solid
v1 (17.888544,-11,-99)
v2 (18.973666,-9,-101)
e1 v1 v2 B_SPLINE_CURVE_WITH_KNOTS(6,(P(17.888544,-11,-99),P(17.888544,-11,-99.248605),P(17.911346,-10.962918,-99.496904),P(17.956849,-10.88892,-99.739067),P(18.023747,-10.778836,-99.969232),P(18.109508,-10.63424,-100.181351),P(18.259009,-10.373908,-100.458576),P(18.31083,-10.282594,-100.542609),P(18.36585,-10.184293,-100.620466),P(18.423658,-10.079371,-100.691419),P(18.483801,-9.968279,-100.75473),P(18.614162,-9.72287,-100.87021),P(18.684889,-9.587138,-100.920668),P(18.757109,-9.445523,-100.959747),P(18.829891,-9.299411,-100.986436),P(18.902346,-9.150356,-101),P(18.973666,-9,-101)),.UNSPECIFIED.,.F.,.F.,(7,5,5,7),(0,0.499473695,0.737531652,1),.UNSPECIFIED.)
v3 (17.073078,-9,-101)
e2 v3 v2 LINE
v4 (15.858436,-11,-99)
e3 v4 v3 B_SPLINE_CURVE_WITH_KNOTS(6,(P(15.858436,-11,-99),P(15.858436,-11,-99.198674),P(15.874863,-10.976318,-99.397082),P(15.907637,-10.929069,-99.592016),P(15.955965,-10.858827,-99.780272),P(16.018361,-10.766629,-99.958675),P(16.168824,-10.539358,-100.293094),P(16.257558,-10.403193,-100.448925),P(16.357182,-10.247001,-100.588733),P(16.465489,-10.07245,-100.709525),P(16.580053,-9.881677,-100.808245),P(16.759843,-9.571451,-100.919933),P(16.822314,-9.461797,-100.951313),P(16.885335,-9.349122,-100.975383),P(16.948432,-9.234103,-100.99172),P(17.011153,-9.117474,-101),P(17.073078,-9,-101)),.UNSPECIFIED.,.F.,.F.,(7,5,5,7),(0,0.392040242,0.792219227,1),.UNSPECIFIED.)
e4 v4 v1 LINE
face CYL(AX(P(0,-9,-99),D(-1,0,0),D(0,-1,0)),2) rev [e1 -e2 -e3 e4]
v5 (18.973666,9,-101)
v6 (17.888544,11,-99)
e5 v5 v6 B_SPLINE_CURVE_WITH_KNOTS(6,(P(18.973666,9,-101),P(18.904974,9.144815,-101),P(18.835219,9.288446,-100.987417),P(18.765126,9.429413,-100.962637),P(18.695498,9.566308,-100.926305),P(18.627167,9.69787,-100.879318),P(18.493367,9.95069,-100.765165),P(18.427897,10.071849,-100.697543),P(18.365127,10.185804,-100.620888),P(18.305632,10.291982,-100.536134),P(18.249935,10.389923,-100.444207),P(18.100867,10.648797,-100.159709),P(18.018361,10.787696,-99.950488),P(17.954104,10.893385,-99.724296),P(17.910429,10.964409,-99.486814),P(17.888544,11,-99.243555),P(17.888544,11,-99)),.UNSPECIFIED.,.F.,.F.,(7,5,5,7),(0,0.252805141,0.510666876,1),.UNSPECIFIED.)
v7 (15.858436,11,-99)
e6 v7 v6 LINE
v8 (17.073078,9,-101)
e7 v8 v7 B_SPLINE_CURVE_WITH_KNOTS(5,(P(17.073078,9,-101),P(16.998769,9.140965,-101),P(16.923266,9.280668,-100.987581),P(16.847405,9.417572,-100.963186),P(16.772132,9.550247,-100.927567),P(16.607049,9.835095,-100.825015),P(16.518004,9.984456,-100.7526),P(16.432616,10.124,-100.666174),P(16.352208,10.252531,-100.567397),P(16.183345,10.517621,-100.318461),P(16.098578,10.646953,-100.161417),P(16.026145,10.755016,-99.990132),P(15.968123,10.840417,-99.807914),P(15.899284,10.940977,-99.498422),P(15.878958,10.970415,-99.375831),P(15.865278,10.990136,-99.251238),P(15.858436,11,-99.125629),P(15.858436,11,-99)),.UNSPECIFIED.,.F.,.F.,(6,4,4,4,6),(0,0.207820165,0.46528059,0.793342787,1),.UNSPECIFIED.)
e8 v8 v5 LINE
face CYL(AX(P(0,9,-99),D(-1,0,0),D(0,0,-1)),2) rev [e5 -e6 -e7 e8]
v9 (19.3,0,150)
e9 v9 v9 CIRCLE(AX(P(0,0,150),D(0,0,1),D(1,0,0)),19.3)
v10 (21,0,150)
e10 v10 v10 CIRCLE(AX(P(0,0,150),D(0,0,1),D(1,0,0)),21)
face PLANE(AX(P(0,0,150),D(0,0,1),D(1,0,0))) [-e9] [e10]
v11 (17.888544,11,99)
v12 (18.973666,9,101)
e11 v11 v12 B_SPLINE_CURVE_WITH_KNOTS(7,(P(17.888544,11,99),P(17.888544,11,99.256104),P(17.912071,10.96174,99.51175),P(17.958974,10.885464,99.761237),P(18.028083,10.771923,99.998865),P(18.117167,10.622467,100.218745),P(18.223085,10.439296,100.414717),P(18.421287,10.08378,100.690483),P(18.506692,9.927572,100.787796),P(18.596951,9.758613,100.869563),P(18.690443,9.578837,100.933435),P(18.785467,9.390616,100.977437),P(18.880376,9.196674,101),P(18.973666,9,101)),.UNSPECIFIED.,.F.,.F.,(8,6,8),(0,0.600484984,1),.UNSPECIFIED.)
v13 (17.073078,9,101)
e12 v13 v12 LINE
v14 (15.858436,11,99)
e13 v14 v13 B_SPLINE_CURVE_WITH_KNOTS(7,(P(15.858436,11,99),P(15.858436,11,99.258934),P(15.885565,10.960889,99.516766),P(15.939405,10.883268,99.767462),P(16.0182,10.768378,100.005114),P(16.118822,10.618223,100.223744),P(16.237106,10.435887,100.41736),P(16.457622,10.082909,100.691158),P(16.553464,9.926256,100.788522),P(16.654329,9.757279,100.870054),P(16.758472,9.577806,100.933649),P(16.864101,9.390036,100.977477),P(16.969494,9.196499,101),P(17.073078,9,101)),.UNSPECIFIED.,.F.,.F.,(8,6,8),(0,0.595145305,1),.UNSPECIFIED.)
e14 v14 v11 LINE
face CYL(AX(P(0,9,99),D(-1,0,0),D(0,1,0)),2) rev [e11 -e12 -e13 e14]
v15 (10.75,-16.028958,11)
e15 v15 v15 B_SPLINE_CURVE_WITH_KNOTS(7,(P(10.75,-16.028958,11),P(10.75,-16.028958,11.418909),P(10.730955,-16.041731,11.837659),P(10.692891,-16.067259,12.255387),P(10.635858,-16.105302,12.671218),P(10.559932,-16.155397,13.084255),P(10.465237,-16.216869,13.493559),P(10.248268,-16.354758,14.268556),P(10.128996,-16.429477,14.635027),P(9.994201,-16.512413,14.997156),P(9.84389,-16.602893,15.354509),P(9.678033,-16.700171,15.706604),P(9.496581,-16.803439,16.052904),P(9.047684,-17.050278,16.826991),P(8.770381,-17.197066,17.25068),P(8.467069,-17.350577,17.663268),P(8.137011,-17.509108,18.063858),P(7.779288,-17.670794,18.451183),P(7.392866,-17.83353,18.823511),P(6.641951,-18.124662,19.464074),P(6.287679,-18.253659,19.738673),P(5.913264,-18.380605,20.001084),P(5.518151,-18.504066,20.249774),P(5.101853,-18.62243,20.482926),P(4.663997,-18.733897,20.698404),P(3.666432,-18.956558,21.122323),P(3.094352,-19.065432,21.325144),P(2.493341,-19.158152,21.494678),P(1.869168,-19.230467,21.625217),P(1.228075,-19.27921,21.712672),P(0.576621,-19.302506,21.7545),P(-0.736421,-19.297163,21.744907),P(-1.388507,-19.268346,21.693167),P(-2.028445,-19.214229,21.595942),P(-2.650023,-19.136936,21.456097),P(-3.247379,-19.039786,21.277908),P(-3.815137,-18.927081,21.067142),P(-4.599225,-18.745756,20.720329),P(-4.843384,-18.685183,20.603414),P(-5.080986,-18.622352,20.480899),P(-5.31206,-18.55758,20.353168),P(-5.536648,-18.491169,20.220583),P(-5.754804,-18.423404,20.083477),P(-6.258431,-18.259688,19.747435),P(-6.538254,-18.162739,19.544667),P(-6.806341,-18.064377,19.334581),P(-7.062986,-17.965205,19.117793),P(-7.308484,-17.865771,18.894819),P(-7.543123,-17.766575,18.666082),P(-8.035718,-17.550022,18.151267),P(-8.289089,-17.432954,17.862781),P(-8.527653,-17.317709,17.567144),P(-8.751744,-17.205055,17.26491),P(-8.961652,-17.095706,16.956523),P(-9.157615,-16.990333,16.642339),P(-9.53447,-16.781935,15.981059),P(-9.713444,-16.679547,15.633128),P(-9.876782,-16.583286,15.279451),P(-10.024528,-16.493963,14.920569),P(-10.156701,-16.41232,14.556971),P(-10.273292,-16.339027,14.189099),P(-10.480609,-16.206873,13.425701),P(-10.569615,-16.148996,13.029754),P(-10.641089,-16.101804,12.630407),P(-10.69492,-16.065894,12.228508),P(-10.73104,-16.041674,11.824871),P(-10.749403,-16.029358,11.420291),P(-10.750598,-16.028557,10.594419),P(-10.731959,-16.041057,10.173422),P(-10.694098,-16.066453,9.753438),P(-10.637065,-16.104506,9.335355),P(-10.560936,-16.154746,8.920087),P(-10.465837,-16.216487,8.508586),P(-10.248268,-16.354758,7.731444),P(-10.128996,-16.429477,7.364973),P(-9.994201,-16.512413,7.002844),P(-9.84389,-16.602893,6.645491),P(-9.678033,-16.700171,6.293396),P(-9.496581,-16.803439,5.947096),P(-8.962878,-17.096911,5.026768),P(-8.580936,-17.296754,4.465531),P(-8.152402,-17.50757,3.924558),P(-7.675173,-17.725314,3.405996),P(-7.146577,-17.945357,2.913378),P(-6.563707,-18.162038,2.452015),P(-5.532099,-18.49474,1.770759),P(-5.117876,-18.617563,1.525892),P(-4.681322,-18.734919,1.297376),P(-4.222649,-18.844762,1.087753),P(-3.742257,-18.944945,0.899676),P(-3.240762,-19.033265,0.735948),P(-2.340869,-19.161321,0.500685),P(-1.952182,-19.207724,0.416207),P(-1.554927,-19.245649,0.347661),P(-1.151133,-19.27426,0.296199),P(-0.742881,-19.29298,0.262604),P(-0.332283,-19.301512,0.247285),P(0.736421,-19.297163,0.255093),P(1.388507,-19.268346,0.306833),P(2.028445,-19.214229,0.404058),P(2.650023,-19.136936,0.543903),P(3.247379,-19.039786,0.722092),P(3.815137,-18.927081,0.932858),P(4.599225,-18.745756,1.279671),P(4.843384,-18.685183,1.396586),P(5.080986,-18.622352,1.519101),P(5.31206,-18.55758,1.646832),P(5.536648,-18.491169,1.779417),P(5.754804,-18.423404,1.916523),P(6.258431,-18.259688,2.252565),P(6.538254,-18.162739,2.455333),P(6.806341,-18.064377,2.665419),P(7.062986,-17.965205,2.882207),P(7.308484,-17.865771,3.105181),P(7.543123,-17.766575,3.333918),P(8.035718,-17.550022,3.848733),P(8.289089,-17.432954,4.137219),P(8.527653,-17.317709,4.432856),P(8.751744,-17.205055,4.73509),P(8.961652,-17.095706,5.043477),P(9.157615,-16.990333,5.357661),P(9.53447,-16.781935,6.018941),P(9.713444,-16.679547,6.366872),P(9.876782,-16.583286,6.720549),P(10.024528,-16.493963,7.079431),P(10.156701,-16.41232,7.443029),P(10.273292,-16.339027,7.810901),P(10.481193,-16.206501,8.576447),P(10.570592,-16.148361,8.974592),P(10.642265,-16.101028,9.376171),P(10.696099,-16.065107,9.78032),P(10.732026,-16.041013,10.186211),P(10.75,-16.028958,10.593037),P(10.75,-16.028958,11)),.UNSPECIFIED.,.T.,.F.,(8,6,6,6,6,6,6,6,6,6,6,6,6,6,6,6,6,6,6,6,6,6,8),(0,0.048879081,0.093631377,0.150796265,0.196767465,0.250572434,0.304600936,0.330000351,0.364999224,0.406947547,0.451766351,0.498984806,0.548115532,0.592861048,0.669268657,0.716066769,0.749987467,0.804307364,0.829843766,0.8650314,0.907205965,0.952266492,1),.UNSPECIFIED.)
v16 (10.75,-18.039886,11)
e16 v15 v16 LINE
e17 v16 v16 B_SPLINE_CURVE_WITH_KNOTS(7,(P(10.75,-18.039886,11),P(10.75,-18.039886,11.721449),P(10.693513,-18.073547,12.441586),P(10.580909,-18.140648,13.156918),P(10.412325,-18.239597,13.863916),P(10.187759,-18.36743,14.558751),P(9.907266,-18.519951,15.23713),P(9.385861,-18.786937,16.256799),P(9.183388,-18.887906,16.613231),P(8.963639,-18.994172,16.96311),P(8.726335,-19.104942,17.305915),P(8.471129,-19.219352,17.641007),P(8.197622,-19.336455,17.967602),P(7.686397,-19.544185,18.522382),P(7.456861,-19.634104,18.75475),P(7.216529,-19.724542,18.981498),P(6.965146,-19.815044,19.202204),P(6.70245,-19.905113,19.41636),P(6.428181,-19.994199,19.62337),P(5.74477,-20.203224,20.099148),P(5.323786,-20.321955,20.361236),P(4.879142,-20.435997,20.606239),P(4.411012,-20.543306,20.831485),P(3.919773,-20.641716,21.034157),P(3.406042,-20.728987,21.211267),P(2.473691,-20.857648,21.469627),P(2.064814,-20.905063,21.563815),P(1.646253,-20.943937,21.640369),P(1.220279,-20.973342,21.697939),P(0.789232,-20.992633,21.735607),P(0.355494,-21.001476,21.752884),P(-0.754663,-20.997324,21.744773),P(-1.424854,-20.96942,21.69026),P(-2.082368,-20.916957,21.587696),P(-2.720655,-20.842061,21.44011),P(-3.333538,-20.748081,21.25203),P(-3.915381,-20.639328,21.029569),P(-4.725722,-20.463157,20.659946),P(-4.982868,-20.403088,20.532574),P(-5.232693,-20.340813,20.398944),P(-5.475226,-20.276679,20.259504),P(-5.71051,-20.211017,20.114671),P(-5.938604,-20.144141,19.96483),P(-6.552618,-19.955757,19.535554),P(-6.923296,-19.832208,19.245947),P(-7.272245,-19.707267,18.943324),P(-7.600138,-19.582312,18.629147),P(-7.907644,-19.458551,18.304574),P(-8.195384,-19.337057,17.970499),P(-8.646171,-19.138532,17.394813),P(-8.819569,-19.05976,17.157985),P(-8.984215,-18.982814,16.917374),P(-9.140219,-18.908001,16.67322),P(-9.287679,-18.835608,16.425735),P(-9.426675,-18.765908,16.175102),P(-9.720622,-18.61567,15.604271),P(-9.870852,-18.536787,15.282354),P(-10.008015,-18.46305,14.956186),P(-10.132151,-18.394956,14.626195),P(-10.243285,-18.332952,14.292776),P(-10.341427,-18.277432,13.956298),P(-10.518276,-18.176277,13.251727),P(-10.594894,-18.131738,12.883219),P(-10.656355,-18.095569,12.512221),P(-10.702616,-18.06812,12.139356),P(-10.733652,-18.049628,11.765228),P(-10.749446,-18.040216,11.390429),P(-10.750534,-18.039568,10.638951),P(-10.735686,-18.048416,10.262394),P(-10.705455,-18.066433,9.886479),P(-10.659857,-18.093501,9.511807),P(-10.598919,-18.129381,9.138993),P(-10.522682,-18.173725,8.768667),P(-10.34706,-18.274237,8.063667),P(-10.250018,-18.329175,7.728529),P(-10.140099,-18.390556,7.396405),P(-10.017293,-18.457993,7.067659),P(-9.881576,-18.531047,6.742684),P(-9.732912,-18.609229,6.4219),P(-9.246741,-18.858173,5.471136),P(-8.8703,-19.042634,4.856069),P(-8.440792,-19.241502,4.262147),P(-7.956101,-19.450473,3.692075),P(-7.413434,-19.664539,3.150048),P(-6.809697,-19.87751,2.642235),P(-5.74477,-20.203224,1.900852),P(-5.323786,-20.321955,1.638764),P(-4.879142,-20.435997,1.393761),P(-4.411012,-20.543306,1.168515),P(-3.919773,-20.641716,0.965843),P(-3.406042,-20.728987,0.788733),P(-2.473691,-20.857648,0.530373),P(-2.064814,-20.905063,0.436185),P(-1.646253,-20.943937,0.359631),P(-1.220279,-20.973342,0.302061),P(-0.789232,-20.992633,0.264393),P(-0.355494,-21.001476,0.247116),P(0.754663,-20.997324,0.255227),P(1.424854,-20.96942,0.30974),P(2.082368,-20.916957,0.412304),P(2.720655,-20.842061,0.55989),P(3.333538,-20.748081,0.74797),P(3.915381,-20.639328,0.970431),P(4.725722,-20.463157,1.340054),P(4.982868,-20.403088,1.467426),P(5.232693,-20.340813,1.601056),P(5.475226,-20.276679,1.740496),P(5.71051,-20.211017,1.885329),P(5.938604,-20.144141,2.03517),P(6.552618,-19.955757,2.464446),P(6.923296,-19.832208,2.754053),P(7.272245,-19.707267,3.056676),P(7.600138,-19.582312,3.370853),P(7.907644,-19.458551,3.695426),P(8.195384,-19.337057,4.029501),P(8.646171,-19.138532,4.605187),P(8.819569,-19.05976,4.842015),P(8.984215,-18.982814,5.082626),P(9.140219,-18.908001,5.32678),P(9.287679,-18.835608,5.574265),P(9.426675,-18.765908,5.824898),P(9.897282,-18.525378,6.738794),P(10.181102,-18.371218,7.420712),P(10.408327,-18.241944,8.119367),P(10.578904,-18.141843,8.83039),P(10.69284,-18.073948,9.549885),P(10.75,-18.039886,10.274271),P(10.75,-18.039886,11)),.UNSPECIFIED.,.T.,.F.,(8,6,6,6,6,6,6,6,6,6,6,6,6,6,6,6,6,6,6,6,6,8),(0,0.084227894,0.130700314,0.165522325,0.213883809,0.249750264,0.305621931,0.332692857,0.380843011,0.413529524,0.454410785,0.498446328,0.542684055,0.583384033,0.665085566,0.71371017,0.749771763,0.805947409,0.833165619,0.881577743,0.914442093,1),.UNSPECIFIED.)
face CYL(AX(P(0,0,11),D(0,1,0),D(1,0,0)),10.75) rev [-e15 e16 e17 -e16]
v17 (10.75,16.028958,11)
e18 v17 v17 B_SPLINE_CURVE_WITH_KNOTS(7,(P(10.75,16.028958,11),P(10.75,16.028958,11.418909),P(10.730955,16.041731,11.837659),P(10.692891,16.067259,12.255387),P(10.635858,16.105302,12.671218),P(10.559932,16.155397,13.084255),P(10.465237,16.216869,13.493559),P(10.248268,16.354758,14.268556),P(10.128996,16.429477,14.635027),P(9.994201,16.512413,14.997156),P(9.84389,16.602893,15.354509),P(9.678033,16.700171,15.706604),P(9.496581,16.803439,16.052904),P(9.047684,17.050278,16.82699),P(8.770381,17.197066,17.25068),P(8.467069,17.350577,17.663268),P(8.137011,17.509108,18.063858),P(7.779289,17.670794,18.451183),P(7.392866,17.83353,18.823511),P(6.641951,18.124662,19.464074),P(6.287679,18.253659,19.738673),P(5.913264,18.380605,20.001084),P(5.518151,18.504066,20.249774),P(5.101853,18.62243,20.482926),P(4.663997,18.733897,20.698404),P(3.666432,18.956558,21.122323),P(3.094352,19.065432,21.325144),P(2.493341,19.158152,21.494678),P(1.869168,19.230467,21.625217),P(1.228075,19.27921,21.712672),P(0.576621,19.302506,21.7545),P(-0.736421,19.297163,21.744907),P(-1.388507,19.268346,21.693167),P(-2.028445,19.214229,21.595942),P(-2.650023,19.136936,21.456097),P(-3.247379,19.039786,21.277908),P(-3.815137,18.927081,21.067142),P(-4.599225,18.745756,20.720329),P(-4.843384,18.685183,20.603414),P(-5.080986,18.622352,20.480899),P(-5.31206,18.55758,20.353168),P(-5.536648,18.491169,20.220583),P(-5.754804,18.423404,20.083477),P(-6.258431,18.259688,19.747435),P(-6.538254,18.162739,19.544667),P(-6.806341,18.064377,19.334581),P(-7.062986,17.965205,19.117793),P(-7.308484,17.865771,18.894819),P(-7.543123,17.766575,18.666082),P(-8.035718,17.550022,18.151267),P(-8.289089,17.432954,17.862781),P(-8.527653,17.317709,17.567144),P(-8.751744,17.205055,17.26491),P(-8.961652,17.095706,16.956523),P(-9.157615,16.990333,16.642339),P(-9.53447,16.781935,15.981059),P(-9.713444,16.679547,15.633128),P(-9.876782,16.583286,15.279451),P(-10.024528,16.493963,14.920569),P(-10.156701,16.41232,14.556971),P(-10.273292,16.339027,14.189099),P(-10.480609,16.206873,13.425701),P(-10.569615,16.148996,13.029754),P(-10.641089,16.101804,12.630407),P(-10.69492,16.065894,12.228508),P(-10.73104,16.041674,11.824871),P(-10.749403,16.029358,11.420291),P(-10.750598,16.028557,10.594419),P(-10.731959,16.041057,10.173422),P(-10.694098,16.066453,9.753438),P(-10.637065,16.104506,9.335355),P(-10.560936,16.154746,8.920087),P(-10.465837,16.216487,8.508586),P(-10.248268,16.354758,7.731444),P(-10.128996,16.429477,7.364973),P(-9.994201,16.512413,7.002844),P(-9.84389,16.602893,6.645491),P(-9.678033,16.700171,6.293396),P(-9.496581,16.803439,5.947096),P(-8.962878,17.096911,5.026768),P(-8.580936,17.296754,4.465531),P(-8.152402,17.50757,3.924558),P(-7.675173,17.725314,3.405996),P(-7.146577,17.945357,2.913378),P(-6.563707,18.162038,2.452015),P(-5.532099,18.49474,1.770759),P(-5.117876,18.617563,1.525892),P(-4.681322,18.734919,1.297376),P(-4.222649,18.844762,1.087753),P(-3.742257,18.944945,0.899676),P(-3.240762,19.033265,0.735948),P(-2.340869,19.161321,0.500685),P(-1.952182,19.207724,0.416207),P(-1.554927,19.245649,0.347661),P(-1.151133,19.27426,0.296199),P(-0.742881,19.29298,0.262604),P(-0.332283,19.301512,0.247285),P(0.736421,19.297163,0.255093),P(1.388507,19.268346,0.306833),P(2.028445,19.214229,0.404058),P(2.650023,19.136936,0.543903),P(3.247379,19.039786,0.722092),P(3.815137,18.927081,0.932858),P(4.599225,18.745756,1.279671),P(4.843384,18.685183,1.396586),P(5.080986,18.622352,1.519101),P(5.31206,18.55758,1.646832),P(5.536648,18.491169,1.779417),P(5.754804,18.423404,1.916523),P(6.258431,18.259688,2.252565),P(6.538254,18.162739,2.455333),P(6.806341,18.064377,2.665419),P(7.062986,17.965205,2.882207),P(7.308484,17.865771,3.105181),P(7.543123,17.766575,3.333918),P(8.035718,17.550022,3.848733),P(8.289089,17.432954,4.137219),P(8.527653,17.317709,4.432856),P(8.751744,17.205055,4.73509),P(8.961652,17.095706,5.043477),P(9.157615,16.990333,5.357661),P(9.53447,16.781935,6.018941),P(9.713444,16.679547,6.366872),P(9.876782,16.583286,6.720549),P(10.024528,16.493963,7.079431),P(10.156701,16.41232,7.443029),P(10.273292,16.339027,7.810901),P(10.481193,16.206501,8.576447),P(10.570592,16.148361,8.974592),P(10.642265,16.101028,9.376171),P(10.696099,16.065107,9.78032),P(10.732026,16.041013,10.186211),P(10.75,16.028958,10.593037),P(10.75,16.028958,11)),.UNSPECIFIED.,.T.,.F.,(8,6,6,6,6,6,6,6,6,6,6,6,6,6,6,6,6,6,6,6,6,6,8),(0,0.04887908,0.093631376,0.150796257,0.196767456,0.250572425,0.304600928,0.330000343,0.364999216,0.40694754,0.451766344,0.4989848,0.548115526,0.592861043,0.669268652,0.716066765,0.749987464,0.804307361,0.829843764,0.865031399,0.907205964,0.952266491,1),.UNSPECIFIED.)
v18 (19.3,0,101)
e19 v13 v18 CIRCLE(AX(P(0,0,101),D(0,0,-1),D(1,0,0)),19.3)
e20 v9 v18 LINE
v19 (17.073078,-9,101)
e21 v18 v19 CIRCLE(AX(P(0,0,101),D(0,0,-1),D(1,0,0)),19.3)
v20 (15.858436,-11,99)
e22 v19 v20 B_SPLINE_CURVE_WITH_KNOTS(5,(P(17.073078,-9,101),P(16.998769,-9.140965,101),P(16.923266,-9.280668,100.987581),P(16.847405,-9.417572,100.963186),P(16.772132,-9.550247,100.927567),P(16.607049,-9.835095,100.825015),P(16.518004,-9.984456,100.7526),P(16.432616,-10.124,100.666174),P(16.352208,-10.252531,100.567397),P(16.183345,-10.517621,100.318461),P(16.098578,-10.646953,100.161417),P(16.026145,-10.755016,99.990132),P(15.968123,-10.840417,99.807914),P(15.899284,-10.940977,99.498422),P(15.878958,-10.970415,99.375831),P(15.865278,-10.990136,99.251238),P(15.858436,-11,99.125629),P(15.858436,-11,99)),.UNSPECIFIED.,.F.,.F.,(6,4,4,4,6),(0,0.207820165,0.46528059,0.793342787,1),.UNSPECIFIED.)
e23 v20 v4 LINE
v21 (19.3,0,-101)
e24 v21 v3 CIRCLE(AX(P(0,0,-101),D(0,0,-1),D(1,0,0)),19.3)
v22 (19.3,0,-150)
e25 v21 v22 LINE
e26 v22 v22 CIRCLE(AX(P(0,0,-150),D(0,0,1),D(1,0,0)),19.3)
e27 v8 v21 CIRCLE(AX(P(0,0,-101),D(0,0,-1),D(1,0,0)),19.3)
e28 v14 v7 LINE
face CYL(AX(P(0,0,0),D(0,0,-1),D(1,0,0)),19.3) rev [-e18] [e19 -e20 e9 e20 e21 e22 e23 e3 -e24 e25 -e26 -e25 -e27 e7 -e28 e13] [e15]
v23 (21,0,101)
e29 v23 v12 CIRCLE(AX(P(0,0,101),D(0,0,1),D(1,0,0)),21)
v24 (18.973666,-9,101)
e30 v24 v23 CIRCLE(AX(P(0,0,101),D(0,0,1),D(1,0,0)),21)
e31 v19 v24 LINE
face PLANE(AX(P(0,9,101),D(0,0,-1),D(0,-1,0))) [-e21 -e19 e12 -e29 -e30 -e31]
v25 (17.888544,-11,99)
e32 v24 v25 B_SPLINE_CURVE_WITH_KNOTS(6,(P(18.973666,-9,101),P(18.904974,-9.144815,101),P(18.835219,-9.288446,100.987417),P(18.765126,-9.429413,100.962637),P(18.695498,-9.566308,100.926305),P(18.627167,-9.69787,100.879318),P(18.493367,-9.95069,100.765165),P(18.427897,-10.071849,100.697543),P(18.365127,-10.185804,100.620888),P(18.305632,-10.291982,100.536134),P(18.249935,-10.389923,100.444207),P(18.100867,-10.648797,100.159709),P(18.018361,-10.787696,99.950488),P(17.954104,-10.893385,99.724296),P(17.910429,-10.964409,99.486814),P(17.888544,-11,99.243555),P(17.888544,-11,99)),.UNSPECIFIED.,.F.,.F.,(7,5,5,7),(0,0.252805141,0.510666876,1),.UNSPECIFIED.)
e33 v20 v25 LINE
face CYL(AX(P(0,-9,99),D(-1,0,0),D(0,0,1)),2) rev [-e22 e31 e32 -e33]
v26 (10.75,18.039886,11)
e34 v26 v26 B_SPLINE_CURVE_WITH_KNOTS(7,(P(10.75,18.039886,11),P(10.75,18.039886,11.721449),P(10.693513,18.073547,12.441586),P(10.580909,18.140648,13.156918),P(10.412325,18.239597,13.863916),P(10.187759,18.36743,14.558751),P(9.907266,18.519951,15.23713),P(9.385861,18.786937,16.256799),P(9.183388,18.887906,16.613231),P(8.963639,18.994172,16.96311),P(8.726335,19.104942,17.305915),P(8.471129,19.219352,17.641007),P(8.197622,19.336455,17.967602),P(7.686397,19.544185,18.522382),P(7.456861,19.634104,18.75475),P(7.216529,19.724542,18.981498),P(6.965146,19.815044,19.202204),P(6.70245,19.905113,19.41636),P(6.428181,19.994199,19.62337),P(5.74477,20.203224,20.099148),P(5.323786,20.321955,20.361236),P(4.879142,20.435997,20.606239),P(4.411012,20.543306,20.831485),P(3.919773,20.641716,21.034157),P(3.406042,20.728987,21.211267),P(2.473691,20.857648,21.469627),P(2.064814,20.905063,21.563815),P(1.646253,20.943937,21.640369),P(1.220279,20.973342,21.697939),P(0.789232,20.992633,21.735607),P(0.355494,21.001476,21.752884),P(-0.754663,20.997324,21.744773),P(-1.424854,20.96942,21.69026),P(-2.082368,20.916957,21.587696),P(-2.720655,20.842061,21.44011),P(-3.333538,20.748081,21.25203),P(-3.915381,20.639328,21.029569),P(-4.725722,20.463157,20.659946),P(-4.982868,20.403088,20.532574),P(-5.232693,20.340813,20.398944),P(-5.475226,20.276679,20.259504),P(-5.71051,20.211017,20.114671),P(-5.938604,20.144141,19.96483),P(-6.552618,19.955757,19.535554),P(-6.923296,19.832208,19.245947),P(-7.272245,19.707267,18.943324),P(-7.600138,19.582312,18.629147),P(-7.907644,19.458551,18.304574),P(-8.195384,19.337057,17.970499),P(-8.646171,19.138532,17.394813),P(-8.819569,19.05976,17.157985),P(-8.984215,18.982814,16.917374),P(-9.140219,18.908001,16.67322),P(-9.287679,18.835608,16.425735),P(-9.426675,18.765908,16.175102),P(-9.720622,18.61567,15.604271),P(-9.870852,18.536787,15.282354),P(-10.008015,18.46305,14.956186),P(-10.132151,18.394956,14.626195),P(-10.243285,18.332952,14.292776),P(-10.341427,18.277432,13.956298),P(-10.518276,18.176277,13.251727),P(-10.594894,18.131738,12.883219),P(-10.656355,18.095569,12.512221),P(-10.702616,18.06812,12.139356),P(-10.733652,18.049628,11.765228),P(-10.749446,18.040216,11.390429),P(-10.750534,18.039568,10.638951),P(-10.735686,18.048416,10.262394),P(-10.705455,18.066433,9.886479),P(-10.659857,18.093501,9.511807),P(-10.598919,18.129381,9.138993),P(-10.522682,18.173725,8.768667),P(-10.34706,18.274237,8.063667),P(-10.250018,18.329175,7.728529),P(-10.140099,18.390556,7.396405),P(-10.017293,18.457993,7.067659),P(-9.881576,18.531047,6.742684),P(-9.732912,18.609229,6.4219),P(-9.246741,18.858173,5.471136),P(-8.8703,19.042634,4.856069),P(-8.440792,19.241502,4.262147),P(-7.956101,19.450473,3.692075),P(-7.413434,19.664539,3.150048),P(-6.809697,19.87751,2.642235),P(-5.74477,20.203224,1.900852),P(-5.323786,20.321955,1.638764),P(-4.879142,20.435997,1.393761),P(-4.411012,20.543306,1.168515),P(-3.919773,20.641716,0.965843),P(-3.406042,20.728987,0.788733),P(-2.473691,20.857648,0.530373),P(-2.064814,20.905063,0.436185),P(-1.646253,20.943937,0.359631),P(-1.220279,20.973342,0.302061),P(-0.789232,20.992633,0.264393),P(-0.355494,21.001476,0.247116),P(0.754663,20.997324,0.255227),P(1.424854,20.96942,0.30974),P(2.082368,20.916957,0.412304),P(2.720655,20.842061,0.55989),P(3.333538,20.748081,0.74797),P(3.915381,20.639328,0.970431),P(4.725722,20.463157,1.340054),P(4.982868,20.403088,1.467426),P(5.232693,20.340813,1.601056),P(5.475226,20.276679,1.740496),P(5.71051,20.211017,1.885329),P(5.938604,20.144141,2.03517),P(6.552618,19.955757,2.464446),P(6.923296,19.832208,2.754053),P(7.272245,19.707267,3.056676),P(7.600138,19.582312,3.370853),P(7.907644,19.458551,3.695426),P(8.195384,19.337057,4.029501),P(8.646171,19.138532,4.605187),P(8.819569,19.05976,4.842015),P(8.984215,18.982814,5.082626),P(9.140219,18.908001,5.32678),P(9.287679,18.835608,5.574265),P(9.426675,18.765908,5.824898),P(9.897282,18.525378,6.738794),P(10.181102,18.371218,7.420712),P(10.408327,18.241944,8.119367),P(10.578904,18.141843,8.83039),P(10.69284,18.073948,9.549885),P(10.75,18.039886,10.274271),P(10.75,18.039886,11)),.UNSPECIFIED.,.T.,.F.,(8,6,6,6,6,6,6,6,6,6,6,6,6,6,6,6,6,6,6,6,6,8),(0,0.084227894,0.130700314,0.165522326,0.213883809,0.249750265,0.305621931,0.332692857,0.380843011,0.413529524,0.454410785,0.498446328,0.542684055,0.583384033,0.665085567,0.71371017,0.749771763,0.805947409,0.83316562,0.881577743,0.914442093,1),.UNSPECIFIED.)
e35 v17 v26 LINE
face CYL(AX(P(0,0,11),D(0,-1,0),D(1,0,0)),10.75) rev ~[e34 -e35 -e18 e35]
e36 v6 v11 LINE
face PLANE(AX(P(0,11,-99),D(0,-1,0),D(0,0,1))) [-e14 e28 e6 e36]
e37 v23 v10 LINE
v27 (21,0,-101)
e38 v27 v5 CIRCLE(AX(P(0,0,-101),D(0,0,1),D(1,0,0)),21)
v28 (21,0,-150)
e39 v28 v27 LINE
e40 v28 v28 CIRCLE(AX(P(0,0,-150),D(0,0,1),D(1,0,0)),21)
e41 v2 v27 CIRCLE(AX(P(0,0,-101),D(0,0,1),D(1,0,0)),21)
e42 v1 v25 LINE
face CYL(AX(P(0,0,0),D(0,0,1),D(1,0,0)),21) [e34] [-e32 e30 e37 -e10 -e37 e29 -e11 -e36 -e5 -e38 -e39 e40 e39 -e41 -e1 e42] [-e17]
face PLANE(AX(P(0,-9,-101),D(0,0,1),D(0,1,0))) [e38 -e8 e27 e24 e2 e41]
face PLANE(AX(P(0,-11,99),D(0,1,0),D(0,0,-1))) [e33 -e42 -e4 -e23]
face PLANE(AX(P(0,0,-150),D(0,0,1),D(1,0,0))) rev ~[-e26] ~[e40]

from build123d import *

# Parameters (mm, degrees)
F0_R          = 21
F0_R_2        = 19.3
F1_DEPTH      = 150
F3_DEPTH      = 21.001
F4_R          = 10.75
F5_DEPTH      = 21.0010001
F5_DEPTH_BACK = 21.0010001


with BuildPart() as f1:
    # F0 (on Top) → F1 (new body, symmetric)
    with BuildSketch(Plane.XY):
        Circle(F0_R)
        Circle(F0_R_2, mode=Mode.SUBTRACT)
    extrude(amount=F1_DEPTH, both=True)

    # F2 (on Right) → F3 (cut, through all)
    with BuildSketch(Plane.YZ):
        with BuildLine():
            Line((-9, -101), (9, -101))
            ThreePointArc((9, -101), (10.4142135624, -100.4142135624), (11, -99))
            Line((11, -99), (11, 99))
            ThreePointArc((11, 99), (10.4142135624, 100.4142135624), (9, 101))
            Line((9, 101), (-9, 101))
            ThreePointArc((-9, 101), (-10.4142135624, 100.4142135624), (-11, 99))
            Line((-11, 99), (-11, -99))
            ThreePointArc((-11, -99), (-10.4142135624, -100.4142135624), (-9, -101))
        make_face()
    extrude(amount=F3_DEPTH, mode=Mode.SUBTRACT)

    # F4 (on Front) → F5 (cut, two sides)
    with BuildSketch(Plane.XZ) as f5_sk:
        with Locations((0, 11)):
            Circle(F4_R)
    extrude(amount=-F5_DEPTH, mode=Mode.SUBTRACT)
    extrude(f5_sk.sketch, amount=F5_DEPTH_BACK, mode=Mode.SUBTRACT)


solid = f1.part
